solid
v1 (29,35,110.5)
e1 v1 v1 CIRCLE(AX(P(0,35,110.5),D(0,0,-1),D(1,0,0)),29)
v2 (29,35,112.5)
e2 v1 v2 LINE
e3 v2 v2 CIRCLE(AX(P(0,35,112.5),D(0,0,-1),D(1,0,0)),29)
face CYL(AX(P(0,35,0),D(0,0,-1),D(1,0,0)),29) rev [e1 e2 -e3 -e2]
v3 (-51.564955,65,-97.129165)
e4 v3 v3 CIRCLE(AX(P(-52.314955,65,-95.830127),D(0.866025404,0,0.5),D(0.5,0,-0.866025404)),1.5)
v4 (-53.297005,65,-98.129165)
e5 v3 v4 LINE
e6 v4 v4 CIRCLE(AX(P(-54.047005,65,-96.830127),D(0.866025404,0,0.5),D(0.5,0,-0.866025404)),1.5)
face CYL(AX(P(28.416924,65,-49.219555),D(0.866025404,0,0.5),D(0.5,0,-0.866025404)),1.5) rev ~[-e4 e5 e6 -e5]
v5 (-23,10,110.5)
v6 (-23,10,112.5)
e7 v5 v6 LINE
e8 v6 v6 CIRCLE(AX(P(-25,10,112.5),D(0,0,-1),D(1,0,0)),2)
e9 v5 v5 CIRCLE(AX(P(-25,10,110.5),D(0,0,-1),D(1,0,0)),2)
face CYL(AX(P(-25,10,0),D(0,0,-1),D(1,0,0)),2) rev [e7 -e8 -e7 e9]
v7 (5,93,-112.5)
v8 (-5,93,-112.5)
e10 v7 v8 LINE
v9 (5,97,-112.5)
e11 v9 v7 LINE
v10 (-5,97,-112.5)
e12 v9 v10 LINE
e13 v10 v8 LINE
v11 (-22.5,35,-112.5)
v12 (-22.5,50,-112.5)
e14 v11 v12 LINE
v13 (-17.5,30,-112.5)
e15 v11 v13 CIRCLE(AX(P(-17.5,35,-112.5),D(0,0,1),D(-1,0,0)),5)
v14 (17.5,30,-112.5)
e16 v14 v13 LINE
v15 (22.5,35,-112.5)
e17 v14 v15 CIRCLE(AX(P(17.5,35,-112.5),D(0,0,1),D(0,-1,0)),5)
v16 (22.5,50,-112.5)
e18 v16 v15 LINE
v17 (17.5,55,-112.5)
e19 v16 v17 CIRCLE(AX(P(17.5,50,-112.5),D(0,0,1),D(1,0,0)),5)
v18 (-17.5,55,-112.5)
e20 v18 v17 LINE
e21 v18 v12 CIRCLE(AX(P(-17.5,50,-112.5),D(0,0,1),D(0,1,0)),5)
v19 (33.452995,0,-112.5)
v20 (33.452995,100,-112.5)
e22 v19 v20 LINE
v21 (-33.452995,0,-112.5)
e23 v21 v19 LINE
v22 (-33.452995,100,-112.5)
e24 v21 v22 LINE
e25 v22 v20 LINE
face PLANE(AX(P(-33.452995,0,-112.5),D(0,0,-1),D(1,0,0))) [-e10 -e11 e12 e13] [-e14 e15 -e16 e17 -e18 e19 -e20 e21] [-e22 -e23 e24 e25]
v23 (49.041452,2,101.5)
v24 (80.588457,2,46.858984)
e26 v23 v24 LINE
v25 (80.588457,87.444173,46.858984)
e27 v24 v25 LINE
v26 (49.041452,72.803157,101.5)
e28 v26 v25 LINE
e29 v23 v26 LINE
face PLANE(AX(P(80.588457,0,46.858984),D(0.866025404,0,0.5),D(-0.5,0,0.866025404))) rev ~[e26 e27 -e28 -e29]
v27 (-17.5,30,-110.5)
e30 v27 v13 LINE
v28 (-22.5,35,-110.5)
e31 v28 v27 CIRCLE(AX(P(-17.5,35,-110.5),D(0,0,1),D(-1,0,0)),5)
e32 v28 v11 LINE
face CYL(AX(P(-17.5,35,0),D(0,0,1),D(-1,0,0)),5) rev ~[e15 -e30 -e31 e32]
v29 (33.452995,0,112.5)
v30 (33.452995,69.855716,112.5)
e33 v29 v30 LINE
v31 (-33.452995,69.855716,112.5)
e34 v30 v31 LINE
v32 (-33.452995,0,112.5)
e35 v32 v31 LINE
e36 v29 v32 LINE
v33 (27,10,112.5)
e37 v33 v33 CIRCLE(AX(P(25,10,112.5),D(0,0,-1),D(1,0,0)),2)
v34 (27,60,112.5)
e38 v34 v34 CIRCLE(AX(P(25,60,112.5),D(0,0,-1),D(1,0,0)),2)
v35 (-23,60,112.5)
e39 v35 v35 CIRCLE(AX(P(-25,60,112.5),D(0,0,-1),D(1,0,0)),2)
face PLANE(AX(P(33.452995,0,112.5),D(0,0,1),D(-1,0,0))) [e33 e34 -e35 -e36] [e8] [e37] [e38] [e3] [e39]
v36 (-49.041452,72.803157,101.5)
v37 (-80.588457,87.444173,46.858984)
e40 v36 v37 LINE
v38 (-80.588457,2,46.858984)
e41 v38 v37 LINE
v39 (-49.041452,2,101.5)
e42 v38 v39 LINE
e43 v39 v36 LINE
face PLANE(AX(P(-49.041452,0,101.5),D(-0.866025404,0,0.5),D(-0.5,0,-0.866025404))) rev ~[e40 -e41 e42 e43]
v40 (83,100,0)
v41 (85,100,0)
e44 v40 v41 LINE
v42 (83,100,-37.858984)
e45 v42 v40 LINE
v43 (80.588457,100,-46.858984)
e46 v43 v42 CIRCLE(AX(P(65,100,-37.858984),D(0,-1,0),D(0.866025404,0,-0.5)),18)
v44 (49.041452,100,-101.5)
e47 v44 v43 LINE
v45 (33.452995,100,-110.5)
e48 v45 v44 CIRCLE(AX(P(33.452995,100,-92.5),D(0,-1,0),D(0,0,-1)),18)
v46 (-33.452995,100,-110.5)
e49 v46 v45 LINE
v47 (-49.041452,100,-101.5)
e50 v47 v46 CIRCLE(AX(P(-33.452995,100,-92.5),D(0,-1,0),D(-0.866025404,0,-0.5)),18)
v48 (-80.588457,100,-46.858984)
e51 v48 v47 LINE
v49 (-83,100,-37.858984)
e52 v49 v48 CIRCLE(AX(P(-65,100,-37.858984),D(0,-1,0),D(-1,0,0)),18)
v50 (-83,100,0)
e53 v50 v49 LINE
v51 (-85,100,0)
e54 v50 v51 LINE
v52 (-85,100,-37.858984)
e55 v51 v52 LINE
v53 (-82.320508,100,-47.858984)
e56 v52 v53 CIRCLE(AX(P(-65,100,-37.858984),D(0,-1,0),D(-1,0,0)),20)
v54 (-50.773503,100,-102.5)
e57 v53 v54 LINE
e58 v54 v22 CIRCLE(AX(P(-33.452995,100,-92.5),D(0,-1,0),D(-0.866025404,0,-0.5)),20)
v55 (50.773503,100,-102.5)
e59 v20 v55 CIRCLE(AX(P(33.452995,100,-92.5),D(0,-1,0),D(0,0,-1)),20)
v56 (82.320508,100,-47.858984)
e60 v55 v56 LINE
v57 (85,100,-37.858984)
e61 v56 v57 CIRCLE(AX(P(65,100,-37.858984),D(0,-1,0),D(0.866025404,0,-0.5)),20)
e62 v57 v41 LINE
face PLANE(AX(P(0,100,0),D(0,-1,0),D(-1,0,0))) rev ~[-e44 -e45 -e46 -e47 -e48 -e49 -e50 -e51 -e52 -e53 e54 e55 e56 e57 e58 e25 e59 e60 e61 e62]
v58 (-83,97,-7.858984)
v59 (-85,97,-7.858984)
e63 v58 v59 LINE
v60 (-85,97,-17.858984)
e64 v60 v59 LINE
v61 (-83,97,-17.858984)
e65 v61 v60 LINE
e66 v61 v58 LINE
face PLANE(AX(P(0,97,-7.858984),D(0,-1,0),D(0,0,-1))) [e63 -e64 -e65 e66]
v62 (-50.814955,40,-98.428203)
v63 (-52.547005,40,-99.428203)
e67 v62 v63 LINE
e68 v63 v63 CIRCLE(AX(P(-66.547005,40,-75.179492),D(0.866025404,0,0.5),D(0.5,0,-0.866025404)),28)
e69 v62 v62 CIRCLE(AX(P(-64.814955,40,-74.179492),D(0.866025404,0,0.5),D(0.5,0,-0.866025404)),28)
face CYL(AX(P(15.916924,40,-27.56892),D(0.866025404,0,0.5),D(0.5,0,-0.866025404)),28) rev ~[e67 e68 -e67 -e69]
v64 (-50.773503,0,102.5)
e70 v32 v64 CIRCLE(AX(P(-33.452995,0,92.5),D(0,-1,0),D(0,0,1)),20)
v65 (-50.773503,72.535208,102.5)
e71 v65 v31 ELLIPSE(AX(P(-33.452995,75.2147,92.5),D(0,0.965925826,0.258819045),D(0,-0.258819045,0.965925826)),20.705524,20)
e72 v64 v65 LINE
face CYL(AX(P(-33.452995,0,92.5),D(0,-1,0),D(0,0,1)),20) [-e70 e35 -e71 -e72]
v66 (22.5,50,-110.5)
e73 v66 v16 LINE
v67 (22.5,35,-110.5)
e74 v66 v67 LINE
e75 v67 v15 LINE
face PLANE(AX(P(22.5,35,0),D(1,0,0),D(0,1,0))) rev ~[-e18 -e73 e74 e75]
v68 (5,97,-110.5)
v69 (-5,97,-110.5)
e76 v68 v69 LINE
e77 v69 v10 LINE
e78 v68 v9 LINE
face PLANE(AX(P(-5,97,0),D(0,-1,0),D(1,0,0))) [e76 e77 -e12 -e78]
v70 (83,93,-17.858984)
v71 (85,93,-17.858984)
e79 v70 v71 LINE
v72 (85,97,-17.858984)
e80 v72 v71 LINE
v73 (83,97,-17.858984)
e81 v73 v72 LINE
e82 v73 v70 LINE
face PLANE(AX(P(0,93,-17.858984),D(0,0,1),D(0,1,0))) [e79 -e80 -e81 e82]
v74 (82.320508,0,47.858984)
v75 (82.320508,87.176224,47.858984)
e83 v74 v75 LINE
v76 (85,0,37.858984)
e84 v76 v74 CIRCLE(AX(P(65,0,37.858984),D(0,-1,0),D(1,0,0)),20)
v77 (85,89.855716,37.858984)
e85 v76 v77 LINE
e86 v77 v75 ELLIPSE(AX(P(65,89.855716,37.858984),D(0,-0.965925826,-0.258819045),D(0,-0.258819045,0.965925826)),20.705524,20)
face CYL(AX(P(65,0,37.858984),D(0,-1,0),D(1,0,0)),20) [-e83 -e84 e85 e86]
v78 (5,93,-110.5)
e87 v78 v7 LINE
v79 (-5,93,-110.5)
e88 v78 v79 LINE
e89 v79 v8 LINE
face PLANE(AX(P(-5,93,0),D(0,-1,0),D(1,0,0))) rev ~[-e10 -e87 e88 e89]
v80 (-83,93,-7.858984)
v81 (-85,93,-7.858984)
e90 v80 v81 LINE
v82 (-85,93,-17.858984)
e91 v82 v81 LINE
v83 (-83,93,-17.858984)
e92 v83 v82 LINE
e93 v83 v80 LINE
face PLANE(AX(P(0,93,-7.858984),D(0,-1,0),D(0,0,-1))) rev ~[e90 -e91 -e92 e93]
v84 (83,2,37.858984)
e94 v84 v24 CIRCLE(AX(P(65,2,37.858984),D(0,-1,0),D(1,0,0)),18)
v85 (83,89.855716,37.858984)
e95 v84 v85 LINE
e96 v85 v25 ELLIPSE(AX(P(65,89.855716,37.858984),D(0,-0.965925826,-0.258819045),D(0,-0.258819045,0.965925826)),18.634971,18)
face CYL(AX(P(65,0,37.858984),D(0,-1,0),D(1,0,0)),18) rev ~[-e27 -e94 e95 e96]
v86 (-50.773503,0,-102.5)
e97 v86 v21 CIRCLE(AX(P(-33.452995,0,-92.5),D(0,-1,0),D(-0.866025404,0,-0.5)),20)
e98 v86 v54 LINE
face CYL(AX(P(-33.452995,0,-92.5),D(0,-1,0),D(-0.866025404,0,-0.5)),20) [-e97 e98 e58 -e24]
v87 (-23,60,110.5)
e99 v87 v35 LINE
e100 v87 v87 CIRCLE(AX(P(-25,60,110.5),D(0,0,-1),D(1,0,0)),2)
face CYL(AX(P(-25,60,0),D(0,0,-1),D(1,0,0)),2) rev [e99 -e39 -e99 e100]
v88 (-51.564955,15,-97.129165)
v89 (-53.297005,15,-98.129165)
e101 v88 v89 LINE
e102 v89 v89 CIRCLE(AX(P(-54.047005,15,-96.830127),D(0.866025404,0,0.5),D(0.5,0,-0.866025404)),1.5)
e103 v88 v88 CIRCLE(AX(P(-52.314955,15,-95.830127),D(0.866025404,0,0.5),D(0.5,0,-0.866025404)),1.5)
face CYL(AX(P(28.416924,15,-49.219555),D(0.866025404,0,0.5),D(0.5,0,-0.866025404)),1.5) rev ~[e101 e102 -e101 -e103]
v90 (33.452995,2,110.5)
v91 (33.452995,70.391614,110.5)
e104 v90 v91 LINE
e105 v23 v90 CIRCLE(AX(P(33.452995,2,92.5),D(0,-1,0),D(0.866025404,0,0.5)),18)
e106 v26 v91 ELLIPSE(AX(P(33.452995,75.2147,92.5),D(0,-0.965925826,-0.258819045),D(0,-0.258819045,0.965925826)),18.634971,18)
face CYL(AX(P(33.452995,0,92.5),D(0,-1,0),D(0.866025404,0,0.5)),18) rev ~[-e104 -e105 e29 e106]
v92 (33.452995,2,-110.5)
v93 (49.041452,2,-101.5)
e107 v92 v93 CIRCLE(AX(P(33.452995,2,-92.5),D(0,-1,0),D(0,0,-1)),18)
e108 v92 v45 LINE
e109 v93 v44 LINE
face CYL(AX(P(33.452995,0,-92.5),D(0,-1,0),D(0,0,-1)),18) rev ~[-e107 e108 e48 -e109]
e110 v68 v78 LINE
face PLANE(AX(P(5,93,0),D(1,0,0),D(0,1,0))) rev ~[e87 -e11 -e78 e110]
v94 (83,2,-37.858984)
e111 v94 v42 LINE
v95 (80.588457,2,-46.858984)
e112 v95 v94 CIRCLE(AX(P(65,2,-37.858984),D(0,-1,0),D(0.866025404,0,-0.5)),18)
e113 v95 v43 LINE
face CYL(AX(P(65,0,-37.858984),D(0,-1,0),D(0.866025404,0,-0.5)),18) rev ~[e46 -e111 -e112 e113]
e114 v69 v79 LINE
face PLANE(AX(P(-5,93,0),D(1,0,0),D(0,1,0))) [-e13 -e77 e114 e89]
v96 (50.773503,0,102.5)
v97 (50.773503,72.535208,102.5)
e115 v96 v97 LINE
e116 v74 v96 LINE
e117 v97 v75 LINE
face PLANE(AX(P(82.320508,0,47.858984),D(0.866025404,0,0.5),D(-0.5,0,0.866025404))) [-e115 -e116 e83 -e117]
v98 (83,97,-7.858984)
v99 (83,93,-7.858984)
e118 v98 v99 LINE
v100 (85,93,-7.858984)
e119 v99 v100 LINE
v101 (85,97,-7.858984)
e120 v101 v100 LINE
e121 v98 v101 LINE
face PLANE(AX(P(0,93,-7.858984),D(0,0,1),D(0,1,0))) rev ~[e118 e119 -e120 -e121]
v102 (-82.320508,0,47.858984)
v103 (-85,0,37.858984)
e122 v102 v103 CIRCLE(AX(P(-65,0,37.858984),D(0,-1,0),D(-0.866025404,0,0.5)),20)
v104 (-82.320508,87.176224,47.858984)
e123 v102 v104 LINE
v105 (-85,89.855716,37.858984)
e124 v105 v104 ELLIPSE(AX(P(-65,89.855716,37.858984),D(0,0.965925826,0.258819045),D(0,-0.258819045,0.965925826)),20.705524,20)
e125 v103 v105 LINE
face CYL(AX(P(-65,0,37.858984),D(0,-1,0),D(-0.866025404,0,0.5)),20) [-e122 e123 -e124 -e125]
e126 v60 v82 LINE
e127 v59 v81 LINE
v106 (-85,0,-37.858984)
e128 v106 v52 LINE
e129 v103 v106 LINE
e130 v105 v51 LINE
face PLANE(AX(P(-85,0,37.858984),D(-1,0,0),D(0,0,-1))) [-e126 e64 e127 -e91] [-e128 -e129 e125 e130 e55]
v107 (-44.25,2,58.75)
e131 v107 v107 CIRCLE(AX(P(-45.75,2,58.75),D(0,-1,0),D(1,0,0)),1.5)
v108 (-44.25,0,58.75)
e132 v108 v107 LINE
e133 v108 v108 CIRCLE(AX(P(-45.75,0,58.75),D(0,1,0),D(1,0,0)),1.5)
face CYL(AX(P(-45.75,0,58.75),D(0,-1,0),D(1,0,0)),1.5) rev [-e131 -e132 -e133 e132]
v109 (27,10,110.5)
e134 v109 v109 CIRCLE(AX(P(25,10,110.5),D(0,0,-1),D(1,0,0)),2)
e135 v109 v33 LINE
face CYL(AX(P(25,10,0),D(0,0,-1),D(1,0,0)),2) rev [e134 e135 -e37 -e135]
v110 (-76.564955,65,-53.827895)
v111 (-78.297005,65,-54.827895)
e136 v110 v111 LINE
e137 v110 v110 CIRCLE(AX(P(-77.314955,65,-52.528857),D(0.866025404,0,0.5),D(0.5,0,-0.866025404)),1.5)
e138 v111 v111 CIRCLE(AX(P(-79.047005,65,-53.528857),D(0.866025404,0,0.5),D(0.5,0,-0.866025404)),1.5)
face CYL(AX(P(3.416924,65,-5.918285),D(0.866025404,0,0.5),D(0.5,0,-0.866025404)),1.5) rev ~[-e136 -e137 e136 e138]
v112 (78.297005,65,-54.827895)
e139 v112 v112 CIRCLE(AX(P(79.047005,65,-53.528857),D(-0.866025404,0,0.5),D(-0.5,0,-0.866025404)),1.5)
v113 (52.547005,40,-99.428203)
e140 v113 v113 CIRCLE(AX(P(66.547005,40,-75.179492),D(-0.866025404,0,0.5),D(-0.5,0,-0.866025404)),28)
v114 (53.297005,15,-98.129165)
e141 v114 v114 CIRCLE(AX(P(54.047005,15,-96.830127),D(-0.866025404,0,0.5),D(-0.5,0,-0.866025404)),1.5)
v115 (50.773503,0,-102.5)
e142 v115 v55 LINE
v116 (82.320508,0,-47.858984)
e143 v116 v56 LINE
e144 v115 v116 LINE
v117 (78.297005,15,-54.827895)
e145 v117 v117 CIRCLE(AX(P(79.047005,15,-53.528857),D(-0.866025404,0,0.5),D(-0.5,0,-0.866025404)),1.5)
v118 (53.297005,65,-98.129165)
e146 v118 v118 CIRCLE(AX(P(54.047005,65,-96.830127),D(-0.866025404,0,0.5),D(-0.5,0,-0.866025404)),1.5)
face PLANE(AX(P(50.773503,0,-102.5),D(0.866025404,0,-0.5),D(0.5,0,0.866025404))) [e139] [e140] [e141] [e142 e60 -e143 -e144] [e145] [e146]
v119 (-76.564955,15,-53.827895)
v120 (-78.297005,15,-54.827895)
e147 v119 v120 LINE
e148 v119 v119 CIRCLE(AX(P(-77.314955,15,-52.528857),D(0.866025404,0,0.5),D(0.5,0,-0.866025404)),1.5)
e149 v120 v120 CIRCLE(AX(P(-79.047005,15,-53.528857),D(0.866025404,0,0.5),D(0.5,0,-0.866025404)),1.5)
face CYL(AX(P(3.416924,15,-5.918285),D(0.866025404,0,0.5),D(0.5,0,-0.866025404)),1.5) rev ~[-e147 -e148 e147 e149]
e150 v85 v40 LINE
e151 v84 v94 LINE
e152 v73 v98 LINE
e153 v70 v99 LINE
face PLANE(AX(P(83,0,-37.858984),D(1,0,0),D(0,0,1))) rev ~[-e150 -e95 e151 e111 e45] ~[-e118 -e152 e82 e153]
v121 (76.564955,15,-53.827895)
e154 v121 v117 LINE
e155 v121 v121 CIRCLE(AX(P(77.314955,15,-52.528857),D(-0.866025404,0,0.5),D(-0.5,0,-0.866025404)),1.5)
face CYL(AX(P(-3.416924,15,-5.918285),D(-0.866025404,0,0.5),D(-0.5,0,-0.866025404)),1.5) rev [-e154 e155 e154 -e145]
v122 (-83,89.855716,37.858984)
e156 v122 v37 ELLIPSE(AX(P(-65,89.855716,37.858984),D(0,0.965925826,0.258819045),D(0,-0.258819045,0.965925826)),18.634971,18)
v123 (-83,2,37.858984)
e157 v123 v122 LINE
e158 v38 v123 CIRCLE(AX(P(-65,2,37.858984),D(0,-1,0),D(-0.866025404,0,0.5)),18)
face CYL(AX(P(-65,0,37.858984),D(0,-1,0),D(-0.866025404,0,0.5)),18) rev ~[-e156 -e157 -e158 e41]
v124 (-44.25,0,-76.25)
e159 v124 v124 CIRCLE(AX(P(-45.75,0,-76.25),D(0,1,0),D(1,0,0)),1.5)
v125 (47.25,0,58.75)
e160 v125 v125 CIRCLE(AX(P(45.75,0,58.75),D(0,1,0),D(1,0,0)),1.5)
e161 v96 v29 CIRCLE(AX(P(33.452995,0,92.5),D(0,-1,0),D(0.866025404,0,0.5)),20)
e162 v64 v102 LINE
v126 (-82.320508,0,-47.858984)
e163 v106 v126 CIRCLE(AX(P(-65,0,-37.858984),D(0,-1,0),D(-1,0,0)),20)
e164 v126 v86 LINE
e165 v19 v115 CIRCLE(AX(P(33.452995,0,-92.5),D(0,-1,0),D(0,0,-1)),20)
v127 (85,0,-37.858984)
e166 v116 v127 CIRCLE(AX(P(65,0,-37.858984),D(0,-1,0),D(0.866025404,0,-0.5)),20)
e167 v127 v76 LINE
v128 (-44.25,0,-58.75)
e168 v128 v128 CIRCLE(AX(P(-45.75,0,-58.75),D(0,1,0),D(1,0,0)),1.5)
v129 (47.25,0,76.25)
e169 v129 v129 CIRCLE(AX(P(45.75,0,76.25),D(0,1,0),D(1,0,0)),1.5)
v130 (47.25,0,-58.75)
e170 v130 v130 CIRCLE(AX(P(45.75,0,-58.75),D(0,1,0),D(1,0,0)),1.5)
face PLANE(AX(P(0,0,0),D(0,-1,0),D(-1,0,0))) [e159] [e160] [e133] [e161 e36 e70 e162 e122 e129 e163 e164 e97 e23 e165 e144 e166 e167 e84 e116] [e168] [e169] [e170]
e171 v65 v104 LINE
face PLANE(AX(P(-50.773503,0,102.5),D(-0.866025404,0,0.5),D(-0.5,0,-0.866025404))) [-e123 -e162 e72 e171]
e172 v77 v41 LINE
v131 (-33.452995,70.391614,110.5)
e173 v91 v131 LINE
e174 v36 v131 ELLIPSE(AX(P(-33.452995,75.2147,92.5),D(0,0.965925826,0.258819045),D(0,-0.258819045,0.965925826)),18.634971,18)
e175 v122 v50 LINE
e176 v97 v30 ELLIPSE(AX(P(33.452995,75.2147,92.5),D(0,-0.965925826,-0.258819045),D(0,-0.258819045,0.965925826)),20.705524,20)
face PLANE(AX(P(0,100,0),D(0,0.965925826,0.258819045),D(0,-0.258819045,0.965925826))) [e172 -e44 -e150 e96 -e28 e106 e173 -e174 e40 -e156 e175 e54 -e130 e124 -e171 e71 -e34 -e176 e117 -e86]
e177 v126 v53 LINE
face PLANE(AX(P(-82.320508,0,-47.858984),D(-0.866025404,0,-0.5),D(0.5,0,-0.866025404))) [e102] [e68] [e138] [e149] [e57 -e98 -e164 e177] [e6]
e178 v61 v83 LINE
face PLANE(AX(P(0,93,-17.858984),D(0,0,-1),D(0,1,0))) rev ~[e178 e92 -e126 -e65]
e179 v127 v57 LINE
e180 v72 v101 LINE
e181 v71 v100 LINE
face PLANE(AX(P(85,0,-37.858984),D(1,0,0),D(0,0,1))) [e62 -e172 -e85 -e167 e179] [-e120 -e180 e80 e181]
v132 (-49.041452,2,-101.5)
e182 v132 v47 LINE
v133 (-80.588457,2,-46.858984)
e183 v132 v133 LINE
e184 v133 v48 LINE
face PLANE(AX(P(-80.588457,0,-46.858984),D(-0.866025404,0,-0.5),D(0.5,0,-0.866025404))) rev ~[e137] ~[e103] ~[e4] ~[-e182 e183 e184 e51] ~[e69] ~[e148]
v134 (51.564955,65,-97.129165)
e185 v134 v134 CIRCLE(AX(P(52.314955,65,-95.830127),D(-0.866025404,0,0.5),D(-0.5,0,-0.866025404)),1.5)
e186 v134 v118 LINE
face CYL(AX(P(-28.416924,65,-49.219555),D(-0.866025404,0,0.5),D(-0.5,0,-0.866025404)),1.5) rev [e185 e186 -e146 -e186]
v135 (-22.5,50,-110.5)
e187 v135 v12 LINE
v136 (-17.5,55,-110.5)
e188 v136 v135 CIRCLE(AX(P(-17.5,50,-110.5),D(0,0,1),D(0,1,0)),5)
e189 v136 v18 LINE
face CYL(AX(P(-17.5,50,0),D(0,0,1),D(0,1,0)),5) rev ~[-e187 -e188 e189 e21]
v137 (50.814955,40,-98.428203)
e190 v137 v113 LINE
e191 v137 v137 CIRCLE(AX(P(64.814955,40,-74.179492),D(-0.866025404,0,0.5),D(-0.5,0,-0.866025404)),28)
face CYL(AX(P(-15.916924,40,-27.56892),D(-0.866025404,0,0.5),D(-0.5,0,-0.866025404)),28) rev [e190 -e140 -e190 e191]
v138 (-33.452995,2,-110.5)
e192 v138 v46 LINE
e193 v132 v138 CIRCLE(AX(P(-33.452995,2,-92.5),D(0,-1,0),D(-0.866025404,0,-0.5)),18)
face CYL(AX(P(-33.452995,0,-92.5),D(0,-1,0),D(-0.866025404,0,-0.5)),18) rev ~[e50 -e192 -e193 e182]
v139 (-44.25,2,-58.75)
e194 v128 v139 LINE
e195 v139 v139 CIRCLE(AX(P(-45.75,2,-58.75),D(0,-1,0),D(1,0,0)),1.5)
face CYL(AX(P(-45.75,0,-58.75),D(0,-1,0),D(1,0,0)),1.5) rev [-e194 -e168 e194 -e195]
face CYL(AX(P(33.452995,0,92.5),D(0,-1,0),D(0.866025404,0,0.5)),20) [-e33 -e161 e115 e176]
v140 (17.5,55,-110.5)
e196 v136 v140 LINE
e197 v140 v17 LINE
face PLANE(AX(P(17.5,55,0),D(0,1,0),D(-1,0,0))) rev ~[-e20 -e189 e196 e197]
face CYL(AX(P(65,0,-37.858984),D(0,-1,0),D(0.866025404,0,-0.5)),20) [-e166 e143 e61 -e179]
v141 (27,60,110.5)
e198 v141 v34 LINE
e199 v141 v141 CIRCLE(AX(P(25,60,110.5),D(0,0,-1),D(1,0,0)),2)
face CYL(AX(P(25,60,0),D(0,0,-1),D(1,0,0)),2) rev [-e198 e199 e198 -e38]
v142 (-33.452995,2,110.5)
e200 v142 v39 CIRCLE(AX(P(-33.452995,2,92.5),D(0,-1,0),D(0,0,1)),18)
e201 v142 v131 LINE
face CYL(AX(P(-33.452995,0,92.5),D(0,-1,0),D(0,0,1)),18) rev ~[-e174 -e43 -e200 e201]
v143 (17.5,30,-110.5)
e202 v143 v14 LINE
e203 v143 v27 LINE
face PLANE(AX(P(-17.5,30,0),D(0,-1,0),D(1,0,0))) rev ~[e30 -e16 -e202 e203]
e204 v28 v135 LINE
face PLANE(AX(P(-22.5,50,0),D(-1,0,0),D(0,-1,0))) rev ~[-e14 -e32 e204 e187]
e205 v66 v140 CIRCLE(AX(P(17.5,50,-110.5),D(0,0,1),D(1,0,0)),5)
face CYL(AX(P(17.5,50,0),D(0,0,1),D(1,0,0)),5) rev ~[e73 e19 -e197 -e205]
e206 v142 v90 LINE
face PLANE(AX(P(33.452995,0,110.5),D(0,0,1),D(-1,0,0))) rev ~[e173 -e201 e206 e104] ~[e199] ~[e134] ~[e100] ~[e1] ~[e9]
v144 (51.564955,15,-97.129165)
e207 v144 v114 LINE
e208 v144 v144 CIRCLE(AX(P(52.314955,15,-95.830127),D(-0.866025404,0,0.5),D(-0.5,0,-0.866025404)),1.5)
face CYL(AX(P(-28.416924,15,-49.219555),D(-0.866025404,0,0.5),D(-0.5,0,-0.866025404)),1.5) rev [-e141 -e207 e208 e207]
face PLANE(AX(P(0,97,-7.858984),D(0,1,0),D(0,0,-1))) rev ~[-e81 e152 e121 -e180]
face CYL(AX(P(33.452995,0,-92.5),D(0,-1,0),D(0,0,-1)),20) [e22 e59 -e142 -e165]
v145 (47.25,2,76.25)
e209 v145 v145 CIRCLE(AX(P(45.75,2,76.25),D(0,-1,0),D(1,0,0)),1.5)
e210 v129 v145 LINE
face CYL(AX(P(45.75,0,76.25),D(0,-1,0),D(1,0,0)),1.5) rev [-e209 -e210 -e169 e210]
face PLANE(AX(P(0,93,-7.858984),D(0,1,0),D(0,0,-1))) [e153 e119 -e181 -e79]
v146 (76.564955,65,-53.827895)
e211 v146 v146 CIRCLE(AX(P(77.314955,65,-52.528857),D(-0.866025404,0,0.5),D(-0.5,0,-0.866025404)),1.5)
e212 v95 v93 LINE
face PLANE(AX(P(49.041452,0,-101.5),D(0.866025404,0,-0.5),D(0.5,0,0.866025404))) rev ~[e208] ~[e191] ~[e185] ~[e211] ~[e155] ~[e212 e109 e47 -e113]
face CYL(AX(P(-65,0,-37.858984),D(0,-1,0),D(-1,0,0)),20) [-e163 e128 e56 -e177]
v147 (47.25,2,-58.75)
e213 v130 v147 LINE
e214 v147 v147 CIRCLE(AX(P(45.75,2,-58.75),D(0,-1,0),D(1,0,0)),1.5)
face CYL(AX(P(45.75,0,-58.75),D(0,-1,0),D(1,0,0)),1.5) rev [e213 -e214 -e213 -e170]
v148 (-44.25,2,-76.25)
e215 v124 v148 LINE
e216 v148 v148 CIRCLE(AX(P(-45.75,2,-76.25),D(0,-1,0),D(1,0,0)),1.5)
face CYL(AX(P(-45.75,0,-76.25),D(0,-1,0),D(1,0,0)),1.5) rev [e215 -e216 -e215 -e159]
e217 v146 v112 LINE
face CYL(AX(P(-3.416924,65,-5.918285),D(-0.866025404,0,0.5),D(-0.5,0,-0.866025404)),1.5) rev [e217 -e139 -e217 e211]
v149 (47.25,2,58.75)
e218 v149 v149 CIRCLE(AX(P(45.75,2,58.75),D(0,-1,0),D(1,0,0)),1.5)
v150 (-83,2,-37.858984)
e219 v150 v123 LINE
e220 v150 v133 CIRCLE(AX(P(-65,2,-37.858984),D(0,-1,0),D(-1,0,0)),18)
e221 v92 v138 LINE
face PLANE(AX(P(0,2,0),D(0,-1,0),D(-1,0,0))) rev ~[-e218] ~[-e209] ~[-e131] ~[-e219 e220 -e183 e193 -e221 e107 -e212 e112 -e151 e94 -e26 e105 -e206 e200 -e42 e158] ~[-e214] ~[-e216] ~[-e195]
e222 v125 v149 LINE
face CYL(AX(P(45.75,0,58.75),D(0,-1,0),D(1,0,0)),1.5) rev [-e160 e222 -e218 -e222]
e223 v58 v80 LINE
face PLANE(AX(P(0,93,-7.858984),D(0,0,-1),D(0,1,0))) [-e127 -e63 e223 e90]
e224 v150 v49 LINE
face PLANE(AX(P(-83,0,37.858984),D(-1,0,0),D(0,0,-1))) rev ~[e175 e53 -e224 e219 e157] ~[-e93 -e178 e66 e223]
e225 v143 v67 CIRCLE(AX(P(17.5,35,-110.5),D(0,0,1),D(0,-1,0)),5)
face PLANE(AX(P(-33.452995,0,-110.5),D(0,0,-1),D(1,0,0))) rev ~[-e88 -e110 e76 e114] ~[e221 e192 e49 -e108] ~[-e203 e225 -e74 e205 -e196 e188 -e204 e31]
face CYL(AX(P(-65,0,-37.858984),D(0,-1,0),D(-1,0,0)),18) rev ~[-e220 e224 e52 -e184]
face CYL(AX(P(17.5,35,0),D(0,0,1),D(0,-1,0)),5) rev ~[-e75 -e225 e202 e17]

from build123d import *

# Parameters (mm, degrees)
SALIENTE_EXTRUIR1_DEPTH     = 100
VACIADO2_T                  = -2
CROQUIS2_R                  = 1.5
CORTAR_EXTRUIR1_DEPTH       = 101
CORTAR_EXTRUIR1_DEPTH_BACK  = 1
CROQUIS8_R                  = 28
CROQUIS8_R_2                = 1.5
CORTAR_EXTRUIR6_DEPTH       = 130.862159322
CORTAR_EXTRUIR7_DEPTH       = 113.5
CORTAR_EXTRUIR8_DEPTH       = 86
CORTAR_EXTRUIR8_DEPTH_BACK  = 86
CROQUIS11_R                 = 29
CROQUIS11_R_2               = 2
CORTAR_EXTRUIR9_DEPTH       = 113.5
CROQUIS13_W                 = 10
CROQUIS13_H                 = 4
CORTAR_EXTRUIR10_DEPTH      = 113.5
CROQUIS14_W                 = 10
CROQUIS14_H                 = 4
CORTAR_EXTRUIR11_DEPTH      = 86
CORTAR_EXTRUIR11_DEPTH_BACK = 86


with BuildPart() as part:
    # Croquis1 → Saliente-Extruir1 (new body)
    with BuildSketch(Plane(origin=(0, 0, 0), x_dir=(1, 0, 0), z_dir=(0, 1, 0))):
        with BuildLine():
            Line((-82.320508076, 47.858983849), (-50.773502692, 102.5))
            ThreePointArc((-50.773502692, 102.5), (-43.452994616, 109.820508076), (-33.452994616, 112.5))
            Line((-33.452994616, 112.5), (33.452994616, 112.5))
            ThreePointArc((33.452994616, 112.5), (43.452994616, 109.820508076), (50.773502692, 102.5))
            Line((50.773502692, 102.5), (82.320508076, 47.858983849))
            ThreePointArc((82.320508076, 47.858983849), (84.318516526, 43.035364751), (85, 37.858983849))
            Line((85, 37.858983849), (85, -37.858983849))
            ThreePointArc((85, -37.858983849), (84.318516526, -43.035364751), (82.320508076, -47.858983849))
            Line((82.320508076, -47.858983849), (50.773502692, -102.5))
            ThreePointArc((50.773502692, -102.5), (43.452994616, -109.820508076), (33.452994616, -112.5))
            Line((33.452994616, -112.5), (-33.452994616, -112.5))
            ThreePointArc((-33.452994616, -112.5), (-43.452994616, -109.820508076), (-50.773502692, -102.5))
            Line((-50.773502692, -102.5), (-82.320508076, -47.858983849))
            ThreePointArc((-82.320508076, -47.858983849), (-84.318516526, -43.035364751), (-85, -37.858983849))
            Line((-85, -37.858983849), (-85, 37.858983849))
            ThreePointArc((-85, 37.858983849), (-84.318516526, 43.035364751), (-82.320508076, 47.858983849))
        make_face()
    extrude(amount=SALIENTE_EXTRUIR1_DEPTH)

    # Vaciado2
    vaciado2_openings = [part.faces().sort_by_distance(p)[0] for p in [
        (0, 100, 0),
    ]]
    offset(amount=VACIADO2_T, openings=vaciado2_openings, kind=Kind.INTERSECTION)

    # Croquis2 → Cortar-Extruir1 (cut, two sides)
    with BuildSketch(Plane(origin=(0, 0, 0), x_dir=(1, 0, 0), z_dir=(0, 1, 0))) as cortar_extruir1_sk:
        with Locations((-45.75, 76.25)):
            Circle(CROQUIS2_R)
        with Locations((-45.75, 58.75)):
            Circle(CROQUIS2_R)
        with Locations((45.75, 58.75)):
            Circle(CROQUIS2_R)
        with Locations((-45.75, -58.75)):
            Circle(CROQUIS2_R)
        with Locations((45.75, -58.75)):
            Circle(CROQUIS2_R)
        with Locations((45.75, -76.25)):
            Circle(CROQUIS2_R)
    extrude(amount=CORTAR_EXTRUIR1_DEPTH, mode=Mode.SUBTRACT)
    extrude(cortar_extruir1_sk.sketch, amount=-CORTAR_EXTRUIR1_DEPTH_BACK, mode=Mode.SUBTRACT)

    # Croquis8 → Cortar-Extruir6 (cut, through all)
    with BuildSketch(Plane(origin=(0, 0, 0), x_dir=(-0.5, 0, -0.866025404), z_dir=(0.866025404, 0, -0.5))):
        with Locations((31.833847158, 40)):
            Circle(CROQUIS8_R)
        with Locations((6.833847158, 65)):
            Circle(CROQUIS8_R_2)
        with Locations((56.833847158, 65)):
            Circle(CROQUIS8_R_2)
        with Locations((6.833847158, 15)):
            Circle(CROQUIS8_R_2)
        with Locations((56.833847158, 15)):
            Circle(CROQUIS8_R_2)
    cortar_extruir6 = extrude(amount=CORTAR_EXTRUIR6_DEPTH, mode=Mode.SUBTRACT)

    # Simetría1: Cortar-Extruir6 across plane
    add(cortar_extruir6.mirror(Plane(origin=(0, 0, 0), x_dir=(0, 0, 1), z_dir=(1, 0, 0))), mode=Mode.SUBTRACT)

    # Croquis9 → Cortar-Extruir7 (cut, through all)
    with BuildSketch(Plane.XY):
        with BuildLine():
            Line((17.5, 55), (-17.5, 55))
            ThreePointArc((-17.5, 55), (-21.035533906, 53.535533906), (-22.5, 50))
            Line((-22.5, 50), (-22.5, 35))
            ThreePointArc((-22.5, 35), (-21.035533906, 31.464466094), (-17.5, 30))
            Line((-17.5, 30), (17.5, 30))
            ThreePointArc((17.5, 30), (21.035533906, 31.464466094), (22.5, 35))
            Line((22.5, 35), (22.5, 50))
            ThreePointArc((22.5, 50), (21.035533906, 53.535533906), (17.5, 55))
        make_face()
    extrude(amount=-CORTAR_EXTRUIR7_DEPTH, mode=Mode.SUBTRACT)

    # Croquis10 → Cortar-Extruir8 (cut, two sides)
    with BuildSketch(Plane(origin=(0, 0, 0), x_dir=(0, 0, -1), z_dir=(1, 0, 0))) as cortar_extruir8_sk:
        Polygon((0, 100), (-148.82762011, 60.12175938), (-148.82762011, 114.287226581), (0, 114.287226581), align=None)
    extrude(amount=CORTAR_EXTRUIR8_DEPTH, mode=Mode.SUBTRACT)
    extrude(cortar_extruir8_sk.sketch, amount=-CORTAR_EXTRUIR8_DEPTH_BACK, mode=Mode.SUBTRACT)

    # Croquis11 → Cortar-Extruir9 (cut, through all)
    with BuildSketch(Plane.XY):
        with Locations((0, 35)):
            Circle(CROQUIS11_R)
        with Locations((25, 10)):
            Circle(CROQUIS11_R_2)
        with Locations((-25, 10)):
            Circle(CROQUIS11_R_2)
        with Locations((-25, 60)):
            Circle(CROQUIS11_R_2)
        with Locations((25, 60)):
            Circle(CROQUIS11_R_2)
    extrude(amount=CORTAR_EXTRUIR9_DEPTH, mode=Mode.SUBTRACT)

    # Croquis13 → Cortar-Extruir10 (cut, through all)
    with BuildSketch(Plane.XY):
        with Locations((0, 95)):
            Rectangle(CROQUIS13_W, CROQUIS13_H)
    extrude(amount=-CORTAR_EXTRUIR10_DEPTH, mode=Mode.SUBTRACT)

    # Croquis14 → Cortar-Extruir11 (cut, two sides)
    with BuildSketch(Plane(origin=(0, 0, 0), x_dir=(0, 0, -1), z_dir=(1, 0, 0))) as cortar_extruir11_sk:
        with Locations((12.858983849, 95)):
            Rectangle(CROQUIS14_W, CROQUIS14_H)
    extrude(amount=CORTAR_EXTRUIR11_DEPTH, mode=Mode.SUBTRACT)
    extrude(cortar_extruir11_sk.sketch, amount=-CORTAR_EXTRUIR11_DEPTH_BACK, mode=Mode.SUBTRACT)


solid = part.part
